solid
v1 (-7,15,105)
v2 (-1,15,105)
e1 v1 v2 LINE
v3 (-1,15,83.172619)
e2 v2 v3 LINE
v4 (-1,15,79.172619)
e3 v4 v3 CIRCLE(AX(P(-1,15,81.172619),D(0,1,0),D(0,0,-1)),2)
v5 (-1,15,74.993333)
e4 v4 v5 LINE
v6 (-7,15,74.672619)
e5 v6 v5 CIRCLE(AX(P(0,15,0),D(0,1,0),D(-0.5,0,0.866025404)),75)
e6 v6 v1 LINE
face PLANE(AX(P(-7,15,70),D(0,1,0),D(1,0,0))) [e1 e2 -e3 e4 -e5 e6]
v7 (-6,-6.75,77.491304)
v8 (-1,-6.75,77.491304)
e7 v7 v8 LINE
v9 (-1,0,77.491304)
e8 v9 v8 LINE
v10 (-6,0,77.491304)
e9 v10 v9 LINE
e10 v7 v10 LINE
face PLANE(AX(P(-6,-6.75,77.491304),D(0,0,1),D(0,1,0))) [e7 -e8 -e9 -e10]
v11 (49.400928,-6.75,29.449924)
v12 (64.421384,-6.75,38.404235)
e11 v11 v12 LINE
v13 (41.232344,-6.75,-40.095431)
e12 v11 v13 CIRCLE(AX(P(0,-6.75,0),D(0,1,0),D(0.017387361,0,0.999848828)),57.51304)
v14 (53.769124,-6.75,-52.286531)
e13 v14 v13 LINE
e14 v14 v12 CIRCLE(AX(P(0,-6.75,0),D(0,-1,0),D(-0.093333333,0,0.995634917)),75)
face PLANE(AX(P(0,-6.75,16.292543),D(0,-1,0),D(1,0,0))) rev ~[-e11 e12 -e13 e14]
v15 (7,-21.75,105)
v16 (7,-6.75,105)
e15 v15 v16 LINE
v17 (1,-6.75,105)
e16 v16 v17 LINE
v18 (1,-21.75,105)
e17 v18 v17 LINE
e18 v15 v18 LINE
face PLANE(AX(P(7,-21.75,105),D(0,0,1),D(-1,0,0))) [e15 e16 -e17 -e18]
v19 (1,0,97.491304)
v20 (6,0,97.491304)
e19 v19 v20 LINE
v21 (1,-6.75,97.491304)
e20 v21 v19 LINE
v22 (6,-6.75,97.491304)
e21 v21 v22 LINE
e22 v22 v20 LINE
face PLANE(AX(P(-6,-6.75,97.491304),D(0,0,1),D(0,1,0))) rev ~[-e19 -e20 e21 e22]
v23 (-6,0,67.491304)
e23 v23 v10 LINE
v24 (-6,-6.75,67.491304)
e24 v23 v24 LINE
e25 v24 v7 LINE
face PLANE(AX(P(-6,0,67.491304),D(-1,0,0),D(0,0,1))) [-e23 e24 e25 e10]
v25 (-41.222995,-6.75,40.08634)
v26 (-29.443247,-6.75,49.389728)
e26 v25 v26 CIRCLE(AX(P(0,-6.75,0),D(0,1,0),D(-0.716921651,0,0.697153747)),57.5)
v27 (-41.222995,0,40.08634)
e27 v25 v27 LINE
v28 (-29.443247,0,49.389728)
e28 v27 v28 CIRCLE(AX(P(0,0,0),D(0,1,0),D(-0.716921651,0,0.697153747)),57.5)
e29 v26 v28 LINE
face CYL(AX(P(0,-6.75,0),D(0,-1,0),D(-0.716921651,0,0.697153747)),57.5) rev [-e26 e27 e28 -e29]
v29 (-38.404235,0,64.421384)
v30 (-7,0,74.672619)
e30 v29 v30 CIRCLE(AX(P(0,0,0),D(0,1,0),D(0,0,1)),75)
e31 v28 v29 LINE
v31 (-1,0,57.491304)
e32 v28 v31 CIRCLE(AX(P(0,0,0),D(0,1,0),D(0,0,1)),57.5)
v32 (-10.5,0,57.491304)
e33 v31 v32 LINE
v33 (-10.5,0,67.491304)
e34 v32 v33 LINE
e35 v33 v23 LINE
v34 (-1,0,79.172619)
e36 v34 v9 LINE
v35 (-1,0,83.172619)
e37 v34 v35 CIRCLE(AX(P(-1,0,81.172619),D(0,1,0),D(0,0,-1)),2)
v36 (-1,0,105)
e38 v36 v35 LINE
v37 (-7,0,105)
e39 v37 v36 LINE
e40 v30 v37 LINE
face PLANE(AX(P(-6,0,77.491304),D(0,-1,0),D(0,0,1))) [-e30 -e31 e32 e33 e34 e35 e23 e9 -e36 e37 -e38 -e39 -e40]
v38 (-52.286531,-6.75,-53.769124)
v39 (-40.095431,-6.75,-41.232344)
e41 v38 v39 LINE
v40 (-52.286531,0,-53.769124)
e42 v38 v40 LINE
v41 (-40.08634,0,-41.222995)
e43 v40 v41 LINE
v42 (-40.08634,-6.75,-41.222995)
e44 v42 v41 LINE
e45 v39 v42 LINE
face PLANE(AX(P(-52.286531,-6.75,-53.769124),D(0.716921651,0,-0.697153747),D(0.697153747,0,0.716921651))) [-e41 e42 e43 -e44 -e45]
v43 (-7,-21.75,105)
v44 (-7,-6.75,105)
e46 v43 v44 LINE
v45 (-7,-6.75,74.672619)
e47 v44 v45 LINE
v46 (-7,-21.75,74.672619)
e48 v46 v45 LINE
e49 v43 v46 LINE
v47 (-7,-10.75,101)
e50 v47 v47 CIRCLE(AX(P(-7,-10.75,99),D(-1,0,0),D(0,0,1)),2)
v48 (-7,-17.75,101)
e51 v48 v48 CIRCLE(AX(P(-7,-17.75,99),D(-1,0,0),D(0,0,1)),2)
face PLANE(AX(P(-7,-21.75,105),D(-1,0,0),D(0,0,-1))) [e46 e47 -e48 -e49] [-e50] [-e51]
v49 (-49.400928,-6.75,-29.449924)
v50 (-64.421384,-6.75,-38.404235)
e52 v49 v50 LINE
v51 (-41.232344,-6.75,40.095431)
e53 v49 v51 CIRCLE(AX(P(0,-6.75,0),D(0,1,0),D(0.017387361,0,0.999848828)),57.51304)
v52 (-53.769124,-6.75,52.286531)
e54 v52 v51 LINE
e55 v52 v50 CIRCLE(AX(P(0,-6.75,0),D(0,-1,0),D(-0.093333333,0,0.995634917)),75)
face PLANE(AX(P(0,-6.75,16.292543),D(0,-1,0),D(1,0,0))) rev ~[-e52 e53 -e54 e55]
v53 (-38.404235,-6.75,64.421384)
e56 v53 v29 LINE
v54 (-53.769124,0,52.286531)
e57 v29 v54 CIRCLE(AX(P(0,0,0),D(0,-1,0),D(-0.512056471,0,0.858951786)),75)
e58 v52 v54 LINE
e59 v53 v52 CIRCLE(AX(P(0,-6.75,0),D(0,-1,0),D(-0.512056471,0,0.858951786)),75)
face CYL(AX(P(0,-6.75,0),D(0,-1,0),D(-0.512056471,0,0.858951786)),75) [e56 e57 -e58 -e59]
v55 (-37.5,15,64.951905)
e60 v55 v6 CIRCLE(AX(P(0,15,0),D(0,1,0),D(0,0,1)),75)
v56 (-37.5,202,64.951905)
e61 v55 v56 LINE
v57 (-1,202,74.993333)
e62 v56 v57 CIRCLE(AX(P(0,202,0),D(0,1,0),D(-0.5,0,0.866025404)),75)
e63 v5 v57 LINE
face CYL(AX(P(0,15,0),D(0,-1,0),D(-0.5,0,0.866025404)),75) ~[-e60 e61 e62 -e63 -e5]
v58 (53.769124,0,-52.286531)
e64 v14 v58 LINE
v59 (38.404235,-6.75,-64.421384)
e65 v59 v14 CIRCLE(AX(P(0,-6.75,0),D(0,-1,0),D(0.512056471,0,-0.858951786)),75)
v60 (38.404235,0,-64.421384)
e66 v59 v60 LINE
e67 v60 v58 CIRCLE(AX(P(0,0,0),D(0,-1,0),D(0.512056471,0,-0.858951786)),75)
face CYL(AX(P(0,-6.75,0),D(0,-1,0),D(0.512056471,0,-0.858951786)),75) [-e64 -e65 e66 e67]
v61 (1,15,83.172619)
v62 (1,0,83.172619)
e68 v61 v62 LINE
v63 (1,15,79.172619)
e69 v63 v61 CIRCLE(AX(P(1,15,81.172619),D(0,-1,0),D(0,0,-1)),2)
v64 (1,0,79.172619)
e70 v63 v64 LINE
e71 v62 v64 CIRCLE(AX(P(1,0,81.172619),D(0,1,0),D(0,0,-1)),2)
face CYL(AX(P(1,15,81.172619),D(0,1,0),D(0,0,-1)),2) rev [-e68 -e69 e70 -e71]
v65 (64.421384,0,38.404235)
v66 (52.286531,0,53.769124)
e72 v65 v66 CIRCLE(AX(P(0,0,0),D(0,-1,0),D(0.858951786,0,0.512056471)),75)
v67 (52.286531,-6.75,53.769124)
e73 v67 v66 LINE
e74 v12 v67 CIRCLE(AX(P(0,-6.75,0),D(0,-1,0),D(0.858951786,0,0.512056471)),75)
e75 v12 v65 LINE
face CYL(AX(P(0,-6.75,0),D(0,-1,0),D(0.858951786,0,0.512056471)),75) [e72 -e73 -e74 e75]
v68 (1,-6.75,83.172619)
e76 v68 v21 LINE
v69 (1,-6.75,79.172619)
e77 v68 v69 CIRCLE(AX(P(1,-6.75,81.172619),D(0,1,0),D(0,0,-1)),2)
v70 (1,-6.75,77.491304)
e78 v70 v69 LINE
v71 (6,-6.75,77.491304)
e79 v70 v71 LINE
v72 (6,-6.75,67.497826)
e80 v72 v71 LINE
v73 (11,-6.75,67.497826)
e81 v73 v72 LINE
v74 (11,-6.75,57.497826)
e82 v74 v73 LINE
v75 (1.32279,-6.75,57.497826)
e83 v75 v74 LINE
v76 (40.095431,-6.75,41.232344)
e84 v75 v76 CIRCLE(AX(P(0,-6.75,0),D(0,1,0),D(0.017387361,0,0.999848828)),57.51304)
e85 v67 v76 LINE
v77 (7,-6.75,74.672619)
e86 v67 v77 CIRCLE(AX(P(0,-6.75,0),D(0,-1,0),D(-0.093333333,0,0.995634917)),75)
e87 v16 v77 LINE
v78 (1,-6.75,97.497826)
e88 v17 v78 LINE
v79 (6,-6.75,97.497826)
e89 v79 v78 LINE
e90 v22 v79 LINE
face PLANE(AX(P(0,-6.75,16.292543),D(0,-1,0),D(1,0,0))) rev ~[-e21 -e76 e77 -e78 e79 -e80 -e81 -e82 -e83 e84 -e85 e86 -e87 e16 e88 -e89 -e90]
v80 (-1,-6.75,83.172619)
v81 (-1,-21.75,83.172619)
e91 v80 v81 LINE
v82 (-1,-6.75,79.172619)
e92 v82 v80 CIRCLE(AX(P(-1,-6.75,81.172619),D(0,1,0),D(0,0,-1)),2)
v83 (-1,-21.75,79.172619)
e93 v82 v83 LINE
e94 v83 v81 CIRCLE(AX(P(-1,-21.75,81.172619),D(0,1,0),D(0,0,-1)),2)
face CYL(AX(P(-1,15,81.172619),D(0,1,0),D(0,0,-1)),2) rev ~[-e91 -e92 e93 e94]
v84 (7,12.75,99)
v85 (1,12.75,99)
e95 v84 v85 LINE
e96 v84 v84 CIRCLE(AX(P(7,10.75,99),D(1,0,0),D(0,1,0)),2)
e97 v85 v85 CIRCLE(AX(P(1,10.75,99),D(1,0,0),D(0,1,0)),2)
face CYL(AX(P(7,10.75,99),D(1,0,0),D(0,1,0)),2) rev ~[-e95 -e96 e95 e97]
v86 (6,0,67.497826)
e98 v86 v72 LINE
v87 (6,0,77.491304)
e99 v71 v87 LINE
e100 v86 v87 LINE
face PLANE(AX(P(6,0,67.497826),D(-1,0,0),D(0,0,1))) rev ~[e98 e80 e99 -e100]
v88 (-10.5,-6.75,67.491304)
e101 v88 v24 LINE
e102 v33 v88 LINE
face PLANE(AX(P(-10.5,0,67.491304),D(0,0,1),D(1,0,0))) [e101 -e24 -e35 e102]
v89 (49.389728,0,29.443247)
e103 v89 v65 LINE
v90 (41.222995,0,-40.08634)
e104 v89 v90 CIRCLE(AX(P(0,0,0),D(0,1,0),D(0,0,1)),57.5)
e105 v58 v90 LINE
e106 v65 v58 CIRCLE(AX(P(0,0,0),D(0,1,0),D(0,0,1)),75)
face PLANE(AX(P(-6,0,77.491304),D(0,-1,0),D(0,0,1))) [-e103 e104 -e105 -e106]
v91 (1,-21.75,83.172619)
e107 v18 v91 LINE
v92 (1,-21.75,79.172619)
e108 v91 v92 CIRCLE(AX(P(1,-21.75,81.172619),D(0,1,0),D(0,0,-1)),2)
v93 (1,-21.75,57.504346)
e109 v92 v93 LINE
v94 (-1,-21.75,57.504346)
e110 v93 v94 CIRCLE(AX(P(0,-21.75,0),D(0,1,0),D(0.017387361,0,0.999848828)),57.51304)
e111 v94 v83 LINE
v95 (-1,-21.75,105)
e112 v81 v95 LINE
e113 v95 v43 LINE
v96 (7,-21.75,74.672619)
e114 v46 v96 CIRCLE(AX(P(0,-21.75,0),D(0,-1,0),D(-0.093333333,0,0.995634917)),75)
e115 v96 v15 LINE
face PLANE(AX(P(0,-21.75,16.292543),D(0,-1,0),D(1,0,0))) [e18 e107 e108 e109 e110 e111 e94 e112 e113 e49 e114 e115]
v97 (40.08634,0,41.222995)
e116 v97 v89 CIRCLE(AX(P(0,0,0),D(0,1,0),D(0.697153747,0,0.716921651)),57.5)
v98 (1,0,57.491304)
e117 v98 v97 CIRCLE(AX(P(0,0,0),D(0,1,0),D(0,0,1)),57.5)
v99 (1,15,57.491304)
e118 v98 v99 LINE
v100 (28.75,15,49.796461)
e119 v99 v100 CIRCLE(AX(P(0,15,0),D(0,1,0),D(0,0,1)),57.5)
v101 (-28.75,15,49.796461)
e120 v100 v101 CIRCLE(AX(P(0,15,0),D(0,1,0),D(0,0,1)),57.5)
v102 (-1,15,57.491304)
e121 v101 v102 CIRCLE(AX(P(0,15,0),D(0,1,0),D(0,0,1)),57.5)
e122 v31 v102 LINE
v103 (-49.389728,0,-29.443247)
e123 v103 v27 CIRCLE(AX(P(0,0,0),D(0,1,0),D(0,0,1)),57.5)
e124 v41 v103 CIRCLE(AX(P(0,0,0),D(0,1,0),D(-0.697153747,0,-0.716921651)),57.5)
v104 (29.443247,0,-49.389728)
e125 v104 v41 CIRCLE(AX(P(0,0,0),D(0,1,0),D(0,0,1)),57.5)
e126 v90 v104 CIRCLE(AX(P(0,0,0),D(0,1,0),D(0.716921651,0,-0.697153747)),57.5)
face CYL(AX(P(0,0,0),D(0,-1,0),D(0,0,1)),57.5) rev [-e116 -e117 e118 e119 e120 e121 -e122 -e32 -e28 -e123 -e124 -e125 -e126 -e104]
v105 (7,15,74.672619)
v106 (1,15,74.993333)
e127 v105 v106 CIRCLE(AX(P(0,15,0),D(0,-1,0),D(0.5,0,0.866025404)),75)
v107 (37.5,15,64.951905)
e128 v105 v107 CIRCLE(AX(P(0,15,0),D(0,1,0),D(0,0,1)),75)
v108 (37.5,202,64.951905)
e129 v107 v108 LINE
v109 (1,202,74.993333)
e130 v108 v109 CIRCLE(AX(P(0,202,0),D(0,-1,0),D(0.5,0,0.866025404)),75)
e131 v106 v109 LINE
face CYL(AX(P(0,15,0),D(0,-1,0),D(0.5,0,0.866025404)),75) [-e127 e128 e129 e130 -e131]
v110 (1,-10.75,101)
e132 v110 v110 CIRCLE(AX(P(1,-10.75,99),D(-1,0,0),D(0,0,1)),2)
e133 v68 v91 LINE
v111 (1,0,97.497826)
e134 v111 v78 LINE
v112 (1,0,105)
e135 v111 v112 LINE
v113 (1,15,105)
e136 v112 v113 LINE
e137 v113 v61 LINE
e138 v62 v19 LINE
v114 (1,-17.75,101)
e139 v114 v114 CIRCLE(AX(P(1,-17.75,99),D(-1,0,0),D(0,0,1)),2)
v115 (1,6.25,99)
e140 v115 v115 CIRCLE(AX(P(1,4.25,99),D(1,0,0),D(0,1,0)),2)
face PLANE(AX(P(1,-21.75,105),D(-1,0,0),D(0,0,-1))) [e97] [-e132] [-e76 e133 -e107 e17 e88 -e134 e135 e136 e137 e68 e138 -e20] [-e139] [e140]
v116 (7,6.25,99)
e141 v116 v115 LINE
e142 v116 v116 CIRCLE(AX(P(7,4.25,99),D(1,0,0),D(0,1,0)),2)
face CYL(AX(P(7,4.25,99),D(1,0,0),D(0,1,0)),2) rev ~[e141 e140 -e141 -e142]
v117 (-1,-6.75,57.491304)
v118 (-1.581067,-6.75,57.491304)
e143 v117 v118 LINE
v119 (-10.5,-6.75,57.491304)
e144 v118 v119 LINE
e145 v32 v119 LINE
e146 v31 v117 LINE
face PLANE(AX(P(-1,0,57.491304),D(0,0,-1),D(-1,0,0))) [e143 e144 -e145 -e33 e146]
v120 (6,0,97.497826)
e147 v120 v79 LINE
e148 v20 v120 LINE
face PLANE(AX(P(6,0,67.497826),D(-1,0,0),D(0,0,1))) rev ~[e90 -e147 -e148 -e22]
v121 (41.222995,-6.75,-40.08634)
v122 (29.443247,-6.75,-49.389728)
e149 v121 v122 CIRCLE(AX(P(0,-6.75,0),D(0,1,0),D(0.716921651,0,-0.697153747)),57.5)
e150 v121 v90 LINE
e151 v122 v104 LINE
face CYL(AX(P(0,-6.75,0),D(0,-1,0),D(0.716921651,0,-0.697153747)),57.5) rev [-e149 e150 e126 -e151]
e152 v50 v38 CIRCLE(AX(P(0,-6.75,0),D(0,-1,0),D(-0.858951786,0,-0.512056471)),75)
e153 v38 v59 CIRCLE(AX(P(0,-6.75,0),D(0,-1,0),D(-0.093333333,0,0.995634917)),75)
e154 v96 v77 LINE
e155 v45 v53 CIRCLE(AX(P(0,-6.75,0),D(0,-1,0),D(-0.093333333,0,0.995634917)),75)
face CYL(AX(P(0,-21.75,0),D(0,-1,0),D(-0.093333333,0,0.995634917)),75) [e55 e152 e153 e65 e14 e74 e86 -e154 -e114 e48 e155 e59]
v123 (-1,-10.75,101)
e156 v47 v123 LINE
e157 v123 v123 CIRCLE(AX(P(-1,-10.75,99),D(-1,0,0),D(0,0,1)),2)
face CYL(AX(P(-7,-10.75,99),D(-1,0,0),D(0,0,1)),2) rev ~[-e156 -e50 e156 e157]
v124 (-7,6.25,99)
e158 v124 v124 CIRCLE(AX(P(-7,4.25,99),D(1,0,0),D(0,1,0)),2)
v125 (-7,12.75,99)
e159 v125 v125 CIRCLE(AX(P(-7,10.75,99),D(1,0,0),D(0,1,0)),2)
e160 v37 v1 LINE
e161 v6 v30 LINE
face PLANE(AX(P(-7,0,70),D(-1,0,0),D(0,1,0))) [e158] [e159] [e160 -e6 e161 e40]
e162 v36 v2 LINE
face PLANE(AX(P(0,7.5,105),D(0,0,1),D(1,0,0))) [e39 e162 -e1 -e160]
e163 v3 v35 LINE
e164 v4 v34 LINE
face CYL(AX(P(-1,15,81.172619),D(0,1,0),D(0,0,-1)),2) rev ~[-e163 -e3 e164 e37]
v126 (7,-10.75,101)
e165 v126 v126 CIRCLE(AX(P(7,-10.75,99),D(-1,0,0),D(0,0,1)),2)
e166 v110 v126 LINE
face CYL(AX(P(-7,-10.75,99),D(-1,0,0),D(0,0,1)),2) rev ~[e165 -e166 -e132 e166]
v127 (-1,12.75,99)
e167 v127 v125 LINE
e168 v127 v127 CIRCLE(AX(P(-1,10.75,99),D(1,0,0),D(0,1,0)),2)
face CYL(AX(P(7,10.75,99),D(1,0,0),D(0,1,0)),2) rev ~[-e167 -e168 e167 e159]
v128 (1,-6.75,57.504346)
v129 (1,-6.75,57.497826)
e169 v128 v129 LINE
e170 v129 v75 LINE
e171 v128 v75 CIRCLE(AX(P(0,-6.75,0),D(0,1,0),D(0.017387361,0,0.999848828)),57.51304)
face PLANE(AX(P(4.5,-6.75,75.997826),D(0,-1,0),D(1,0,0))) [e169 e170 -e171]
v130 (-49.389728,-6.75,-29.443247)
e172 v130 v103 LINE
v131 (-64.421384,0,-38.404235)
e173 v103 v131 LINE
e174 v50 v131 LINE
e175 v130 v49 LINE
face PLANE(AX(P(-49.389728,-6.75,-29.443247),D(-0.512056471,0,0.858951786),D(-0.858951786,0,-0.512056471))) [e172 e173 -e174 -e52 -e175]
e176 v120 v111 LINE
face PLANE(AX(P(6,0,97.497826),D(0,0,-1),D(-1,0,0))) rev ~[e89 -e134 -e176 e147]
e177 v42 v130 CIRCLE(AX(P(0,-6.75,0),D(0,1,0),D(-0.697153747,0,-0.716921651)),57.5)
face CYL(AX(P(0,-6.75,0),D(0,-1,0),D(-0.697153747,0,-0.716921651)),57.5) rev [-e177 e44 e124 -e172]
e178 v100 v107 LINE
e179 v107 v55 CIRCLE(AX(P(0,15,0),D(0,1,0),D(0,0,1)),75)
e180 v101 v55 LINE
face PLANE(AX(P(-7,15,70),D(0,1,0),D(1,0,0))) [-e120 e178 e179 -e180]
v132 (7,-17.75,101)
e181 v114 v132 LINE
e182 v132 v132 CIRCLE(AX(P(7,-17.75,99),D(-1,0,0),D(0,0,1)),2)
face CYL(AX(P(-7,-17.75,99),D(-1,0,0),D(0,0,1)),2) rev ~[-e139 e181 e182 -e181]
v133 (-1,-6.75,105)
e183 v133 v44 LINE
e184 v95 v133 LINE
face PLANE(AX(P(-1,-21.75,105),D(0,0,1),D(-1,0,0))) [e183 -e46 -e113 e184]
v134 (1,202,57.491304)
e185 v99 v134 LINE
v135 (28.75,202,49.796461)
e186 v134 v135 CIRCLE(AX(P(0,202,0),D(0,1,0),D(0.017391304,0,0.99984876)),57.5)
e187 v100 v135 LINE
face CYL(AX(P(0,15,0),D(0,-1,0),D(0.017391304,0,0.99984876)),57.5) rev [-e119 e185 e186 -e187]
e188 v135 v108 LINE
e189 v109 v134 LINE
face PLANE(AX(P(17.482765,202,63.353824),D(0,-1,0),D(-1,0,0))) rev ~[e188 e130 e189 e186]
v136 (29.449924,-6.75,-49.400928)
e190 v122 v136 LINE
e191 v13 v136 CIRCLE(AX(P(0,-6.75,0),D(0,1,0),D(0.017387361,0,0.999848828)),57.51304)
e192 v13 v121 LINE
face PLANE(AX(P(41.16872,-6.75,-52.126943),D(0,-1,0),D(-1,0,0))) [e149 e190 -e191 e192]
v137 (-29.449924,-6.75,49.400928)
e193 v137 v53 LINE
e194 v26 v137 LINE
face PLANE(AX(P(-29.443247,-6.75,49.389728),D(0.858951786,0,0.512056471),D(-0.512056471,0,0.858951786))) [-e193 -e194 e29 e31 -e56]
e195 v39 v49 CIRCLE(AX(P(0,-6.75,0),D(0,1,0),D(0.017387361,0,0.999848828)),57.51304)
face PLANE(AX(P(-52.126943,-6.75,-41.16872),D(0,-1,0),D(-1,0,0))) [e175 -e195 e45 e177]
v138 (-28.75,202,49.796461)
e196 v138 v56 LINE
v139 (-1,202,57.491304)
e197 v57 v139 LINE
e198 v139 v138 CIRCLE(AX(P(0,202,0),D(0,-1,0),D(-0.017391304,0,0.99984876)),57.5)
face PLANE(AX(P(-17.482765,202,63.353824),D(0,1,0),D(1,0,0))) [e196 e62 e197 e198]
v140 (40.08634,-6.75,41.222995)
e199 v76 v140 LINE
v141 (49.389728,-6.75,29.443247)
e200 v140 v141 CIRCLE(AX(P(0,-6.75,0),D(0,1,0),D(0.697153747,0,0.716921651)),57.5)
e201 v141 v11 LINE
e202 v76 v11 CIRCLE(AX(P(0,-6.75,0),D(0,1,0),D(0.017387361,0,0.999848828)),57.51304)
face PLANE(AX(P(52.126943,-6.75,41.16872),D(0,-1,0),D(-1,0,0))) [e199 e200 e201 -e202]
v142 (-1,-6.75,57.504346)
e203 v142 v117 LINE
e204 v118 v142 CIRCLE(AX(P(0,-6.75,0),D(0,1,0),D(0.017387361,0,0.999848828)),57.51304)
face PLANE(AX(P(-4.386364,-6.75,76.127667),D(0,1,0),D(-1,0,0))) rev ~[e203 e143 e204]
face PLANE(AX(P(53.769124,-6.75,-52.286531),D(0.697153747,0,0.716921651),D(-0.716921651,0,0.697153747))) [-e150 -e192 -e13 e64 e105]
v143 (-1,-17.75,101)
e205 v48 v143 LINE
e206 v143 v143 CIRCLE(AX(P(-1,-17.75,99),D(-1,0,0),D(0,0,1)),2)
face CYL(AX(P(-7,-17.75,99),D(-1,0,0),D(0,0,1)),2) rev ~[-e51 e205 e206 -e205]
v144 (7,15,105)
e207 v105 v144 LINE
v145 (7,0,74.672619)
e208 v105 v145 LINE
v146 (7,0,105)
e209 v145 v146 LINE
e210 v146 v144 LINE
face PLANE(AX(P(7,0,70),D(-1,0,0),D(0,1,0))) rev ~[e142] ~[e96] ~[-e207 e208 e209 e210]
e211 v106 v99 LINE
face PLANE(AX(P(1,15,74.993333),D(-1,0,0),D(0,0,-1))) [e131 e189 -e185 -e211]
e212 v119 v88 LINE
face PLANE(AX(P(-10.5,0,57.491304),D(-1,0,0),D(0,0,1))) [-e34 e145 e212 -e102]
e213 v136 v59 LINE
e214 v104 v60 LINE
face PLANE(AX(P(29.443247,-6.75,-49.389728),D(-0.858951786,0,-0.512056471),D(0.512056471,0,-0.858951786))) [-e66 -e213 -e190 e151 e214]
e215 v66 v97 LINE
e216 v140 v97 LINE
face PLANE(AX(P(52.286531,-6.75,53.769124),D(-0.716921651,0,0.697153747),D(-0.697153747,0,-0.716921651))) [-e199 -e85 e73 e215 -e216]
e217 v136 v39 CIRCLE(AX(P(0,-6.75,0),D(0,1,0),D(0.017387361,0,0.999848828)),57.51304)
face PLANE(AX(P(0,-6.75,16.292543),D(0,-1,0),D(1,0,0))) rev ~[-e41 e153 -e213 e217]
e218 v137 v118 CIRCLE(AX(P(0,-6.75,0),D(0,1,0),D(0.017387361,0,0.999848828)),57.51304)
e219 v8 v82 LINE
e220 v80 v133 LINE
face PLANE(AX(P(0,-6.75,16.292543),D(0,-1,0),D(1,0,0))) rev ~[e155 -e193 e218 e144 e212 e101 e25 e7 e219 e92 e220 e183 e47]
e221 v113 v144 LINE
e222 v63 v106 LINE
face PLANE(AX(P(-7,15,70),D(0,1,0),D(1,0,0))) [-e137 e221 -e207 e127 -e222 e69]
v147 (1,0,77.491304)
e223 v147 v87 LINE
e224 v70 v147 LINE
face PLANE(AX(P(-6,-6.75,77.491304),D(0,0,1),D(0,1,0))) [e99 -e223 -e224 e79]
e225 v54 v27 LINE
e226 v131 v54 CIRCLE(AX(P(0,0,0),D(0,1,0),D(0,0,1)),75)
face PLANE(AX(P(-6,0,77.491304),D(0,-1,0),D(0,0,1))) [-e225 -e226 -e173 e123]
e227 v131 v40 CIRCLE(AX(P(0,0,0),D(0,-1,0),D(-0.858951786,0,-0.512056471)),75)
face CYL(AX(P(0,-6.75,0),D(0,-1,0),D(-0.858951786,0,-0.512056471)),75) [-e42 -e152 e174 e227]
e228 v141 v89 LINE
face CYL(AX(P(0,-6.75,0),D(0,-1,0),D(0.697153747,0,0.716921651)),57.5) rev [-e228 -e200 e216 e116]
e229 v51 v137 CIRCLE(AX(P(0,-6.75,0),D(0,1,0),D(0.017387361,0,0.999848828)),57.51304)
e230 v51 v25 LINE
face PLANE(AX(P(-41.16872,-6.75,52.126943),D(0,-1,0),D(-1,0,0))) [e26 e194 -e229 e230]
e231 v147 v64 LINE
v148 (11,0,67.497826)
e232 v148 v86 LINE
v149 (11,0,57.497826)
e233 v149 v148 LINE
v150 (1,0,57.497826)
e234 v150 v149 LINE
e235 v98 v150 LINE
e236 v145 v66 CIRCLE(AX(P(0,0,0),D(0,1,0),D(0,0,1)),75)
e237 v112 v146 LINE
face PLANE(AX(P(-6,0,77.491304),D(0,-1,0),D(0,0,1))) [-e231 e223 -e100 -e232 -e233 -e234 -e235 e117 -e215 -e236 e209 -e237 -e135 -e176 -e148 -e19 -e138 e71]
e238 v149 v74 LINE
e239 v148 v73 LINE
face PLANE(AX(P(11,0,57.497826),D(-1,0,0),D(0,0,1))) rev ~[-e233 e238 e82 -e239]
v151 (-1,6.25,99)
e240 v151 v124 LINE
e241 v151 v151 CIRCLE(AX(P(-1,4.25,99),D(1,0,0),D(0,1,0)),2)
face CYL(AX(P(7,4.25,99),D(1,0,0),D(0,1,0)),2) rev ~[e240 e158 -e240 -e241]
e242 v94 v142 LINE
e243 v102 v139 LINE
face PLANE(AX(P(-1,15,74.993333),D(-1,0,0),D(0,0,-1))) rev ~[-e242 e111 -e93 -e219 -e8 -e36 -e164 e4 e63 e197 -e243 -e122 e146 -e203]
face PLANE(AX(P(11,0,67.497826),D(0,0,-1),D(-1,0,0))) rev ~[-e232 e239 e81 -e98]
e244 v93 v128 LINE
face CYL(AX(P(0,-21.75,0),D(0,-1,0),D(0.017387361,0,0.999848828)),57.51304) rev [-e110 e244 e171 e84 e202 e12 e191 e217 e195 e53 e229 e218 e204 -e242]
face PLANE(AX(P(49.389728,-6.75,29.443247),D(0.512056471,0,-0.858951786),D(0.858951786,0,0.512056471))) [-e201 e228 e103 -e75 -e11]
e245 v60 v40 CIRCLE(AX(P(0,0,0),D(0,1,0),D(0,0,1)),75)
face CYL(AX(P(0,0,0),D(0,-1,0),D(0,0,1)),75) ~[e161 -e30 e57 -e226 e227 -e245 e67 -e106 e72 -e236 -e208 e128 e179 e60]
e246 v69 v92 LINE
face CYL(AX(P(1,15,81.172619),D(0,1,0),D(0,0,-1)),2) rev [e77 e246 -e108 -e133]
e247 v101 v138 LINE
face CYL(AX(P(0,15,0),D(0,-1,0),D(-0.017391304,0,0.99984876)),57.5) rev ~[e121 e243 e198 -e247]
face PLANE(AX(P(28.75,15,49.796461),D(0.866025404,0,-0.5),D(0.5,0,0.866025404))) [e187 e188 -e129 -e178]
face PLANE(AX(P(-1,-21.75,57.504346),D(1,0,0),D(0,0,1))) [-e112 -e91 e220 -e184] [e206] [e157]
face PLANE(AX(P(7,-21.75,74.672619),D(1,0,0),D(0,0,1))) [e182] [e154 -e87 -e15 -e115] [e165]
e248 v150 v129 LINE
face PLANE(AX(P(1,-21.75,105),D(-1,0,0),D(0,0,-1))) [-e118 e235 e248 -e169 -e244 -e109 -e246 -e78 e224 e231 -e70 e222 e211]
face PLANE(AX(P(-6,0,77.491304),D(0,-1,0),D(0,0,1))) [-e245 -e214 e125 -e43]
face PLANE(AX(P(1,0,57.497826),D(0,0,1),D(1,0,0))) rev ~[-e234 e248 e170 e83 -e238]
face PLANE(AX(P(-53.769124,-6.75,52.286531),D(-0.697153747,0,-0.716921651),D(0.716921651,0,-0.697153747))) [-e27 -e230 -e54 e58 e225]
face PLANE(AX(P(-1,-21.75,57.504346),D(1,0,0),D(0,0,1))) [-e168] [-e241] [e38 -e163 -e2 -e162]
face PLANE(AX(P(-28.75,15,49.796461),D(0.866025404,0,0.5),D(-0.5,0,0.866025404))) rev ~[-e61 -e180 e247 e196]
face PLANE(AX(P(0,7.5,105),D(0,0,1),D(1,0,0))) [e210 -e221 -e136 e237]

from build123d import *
from build123d.topology import SkipClean

# Parameters (mm, degrees)
SKETCH1_R                = 75
SKETCH1_R_2              = 57.5
BOSS_EXTRUDE1_DEPTH      = 15
BOSS_EXTRUDE2_DEPTH      = 30
BOSS_EXTRUDE2_DEPTH_BACK = 5
SKETCH2_W                = 14
SKETCH2_H                = 15
SKETCH5_W                = 2
SKETCH5_H                = 47.50869631
CUT_EXTRUDE2_DEPTH       = 64
SKETCH6_R                = 2
CUT_EXTRUDE3_DEPTH       = 64
BOSS_EXTRUDE3_DEPTH      = 6.75
BOSS_EXTRUDE4_START      = 15
BOSS_EXTRUDE4_DEPTH      = 15
SKETCH10_R               = 2
CUT_EXTRUDE5_DEPTH       = 135.989119932
SKETCH11_W               = 20
SKETCH11_H               = 6.75
CUT_EXTRUDE6_DEPTH       = 135.384011326
BOSS_EXTRUDE5_DEPTH      = 6.75
CUT_EXTRUDE8_DEPTH       = 135.166174947
BOSS_EXTRUDE6_DEPTH      = 187


with BuildPart() as part:
    # Sketch1 → Boss-Extrude1 (new body)
    with BuildSketch(Plane(origin=(0, 0, 0), x_dir=(1, 0, 0), z_dir=(0, 1, 0))):
        with Locations(Location((0, 0, 0), (0, 0, 270))):
            Circle(SKETCH1_R)
        with Locations(Location((0, 0, 0), (0, 0, 270))):
            Circle(SKETCH1_R_2, mode=Mode.SUBTRACT)
    extrude(amount=BOSS_EXTRUDE1_DEPTH)

    # Sketch2 → Boss-Extrude2 (add, two sides: drawn at the far end of the back side and taken through both)
    with BuildSketch(Plane.XY.offset(75).offset(-BOSS_EXTRUDE2_DEPTH_BACK)):
        with Locations((0, 7.5)):
            Rectangle(SKETCH2_W, SKETCH2_H)
    extrude(amount=BOSS_EXTRUDE2_DEPTH + BOSS_EXTRUDE2_DEPTH_BACK)

    # Sketch5 → Cut-Extrude2 (cut)
    with BuildSketch(Plane.XZ):
        with Locations((0, 81.245651845)):
            Rectangle(SKETCH5_W, SKETCH5_H)
    extrude(amount=-CUT_EXTRUDE2_DEPTH, mode=Mode.SUBTRACT)

    # Sketch6 → Cut-Extrude3 (cut)
    with BuildSketch(Plane(origin=(7, 0, 0), x_dir=(0, 0, -1), z_dir=(1, 0, 0))):
        with Locations(Location((-99, 4.25, 0), (0, 0, 90))):
            Circle(SKETCH6_R)
        with Locations(Location((-99, 10.75, 0), (0, 0, 90))):
            Circle(SKETCH6_R)
    extrude(amount=-CUT_EXTRUDE3_DEPTH, mode=Mode.SUBTRACT)

    # Sketch7 → Boss-Extrude3 (add)
    with BuildSketch(Plane.XZ):
        Polygon((1, 67.497826046), (1, 57.497826046), (11, 57.497826046), (11, 67.497826046), (6, 67.497826046), (6, 97.497826046), (1, 97.497826046), align=None)
        Polygon((-6, 67.49130369), (-6, 97.49130369), (-1, 97.49130369), (-1, 57.49130369), (-10.5, 57.49130369), (-10.5, 67.49130369), align=None)
    extrude(amount=BOSS_EXTRUDE3_DEPTH)

    # Sketch8 → Boss-Extrude4 (add)
    with BuildSketch(Plane.XZ.offset(6.75).offset(BOSS_EXTRUDE4_START)):
        with BuildLine():
            Line((-1, 57.50434569), (-1, 105))
            Line((-1, 105), (-7, 105))
            Line((-7, 105), (-7, 74.67261881))
            ThreePointArc((-7, 74.67261881), (0, -75), (7, 74.67261881))
            Line((7, 74.67261881), (7, 105))
            Line((7, 105), (1, 105))
            Line((1, 105), (1, 57.50434569))
            ThreePointArc((1, 57.50434569), (0, -57.513040028), (-1, 57.50434569))
        make_face()
    extrude(amount=-BOSS_EXTRUDE4_DEPTH)

    # Sketch10 → Cut-Extrude5 (cut, through all)
    with BuildSketch(Plane.ZY.offset(7)):
        with Locations((99, -10.75)):
            Circle(SKETCH10_R)
        with Locations((99, -17.75)):
            Circle(SKETCH10_R)
    extrude(amount=-CUT_EXTRUDE5_DEPTH, mode=Mode.SUBTRACT)

    # Sketch11 → Cut-Extrude6 (cut, through all)
    with BuildSketch(Plane.ZY.offset(6)):
        with Locations((87.49130369, -3.375)):
            Rectangle(SKETCH11_W, SKETCH11_H)
    extrude(amount=-CUT_EXTRUDE6_DEPTH, mode=Mode.SUBTRACT)

    # Sketch12 → Boss-Extrude5 (add)
    with SkipClean():  # the faces are left unmerged after this step: merging them gives an invalid solid
        with BuildSketch(Plane(origin=(0, -6.75, 0), x_dir=(1, 0, 0), z_dir=(0, 1, 0))):
            with BuildLine():
                Line((52.286531011, -53.769123806), (40.086340442, -41.222994918))
                ThreePointArc((40.086340442, -41.222994918), (45.124076801, -35.638009104), (49.389727695, -29.443247073))
                Line((49.389727695, -29.443247073), (64.42138395, -38.404235313))
                ThreePointArc((64.42138395, -38.404235313), (58.857491479, -46.484359701), (52.286531011, -53.769123806))
            make_face()
            with BuildLine():
                Line((-53.769123806, -52.286531011), (-41.222994918, -40.086340442))
                ThreePointArc((-41.222994918, -40.086340442), (-35.638009104, -45.124076801), (-29.443247073, -49.389727695))
                Line((-29.443247073, -49.389727695), (-38.404235313, -64.42138395))
                ThreePointArc((-38.404235313, -64.42138395), (-46.484359701, -58.857491479), (-53.769123806, -52.286531011))
            make_face()
            with BuildLine():
                Line((-52.286531011, 53.769123806), (-40.086340442, 41.222994918))
                ThreePointArc((-40.086340442, 41.222994918), (-45.124076801, 35.638009104), (-49.389727695, 29.443247073))
                Line((-49.389727695, 29.443247073), (-64.42138395, 38.404235313))
                ThreePointArc((-64.42138395, 38.404235313), (-58.857491479, 46.484359701), (-52.286531011, 53.769123806))
            make_face()
            with BuildLine():
                Line((53.769123806, 52.286531011), (41.222994918, 40.086340442))
                ThreePointArc((41.222994918, 40.086340442), (35.638009104, 45.124076801), (29.443247073, 49.389727695))
                Line((29.443247073, 49.389727695), (38.404235313, 64.42138395))
                ThreePointArc((38.404235313, 64.42138395), (46.484359701, 58.857491479), (53.769123806, 52.286531011))
            make_face()
        extrude(amount=BOSS_EXTRUDE5_DEPTH)

    # Sketch15 → Cut-Extrude8 (cut, through all)
    with SkipClean():  # the faces are left unmerged after this step: merging them gives an invalid solid
        with BuildSketch(Plane(origin=(0, 15, 0), x_dir=(1, 0, 0), z_dir=(0, 1, 0))):
            with BuildLine():
                Line((-1, -83.17261881), (-1, -79.17261881))
                ThreePointArc((-1, -79.17261881), (-3, -81.17261881), (-1, -83.17261881))
            make_face()
            with BuildLine():
                Line((1, -83.17261881), (1, -79.17261881))
                ThreePointArc((1, -79.17261881), (3, -81.17261881), (1, -83.17261881))
            make_face()
        extrude(amount=-CUT_EXTRUDE8_DEPTH, mode=Mode.SUBTRACT)

    # Sketch16 → Boss-Extrude6 (add)
    with BuildSketch(Plane(origin=(0, 15, 0), x_dir=(1, 0, 0), z_dir=(0, 1, 0))):
        with BuildLine():
            Line((-1, -74.993333037), (-1, -57.49130369))
            ThreePointArc((-1, -57.49130369), (-15.364513565, -55.409220559), (-28.75, -49.796460718))
            Line((-28.75, -49.796460718), (-37.5, -64.951905284))
            ThreePointArc((-37.5, -64.951905284), (-19.89397064, -72.313414607), (-1, -74.993333037))
        make_face()
        with BuildLine():
            Line((1, -74.993333037), (1, -57.49130369))
            ThreePointArc((1, -57.49130369), (15.364513565, -55.409220559), (28.75, -49.796460718))
            Line((28.75, -49.796460718), (37.5, -64.951905284))
            ThreePointArc((37.5, -64.951905284), (19.89397064, -72.313414607), (1, -74.993333037))
        make_face()
    extrude(amount=BOSS_EXTRUDE6_DEPTH)


solid = part.part
